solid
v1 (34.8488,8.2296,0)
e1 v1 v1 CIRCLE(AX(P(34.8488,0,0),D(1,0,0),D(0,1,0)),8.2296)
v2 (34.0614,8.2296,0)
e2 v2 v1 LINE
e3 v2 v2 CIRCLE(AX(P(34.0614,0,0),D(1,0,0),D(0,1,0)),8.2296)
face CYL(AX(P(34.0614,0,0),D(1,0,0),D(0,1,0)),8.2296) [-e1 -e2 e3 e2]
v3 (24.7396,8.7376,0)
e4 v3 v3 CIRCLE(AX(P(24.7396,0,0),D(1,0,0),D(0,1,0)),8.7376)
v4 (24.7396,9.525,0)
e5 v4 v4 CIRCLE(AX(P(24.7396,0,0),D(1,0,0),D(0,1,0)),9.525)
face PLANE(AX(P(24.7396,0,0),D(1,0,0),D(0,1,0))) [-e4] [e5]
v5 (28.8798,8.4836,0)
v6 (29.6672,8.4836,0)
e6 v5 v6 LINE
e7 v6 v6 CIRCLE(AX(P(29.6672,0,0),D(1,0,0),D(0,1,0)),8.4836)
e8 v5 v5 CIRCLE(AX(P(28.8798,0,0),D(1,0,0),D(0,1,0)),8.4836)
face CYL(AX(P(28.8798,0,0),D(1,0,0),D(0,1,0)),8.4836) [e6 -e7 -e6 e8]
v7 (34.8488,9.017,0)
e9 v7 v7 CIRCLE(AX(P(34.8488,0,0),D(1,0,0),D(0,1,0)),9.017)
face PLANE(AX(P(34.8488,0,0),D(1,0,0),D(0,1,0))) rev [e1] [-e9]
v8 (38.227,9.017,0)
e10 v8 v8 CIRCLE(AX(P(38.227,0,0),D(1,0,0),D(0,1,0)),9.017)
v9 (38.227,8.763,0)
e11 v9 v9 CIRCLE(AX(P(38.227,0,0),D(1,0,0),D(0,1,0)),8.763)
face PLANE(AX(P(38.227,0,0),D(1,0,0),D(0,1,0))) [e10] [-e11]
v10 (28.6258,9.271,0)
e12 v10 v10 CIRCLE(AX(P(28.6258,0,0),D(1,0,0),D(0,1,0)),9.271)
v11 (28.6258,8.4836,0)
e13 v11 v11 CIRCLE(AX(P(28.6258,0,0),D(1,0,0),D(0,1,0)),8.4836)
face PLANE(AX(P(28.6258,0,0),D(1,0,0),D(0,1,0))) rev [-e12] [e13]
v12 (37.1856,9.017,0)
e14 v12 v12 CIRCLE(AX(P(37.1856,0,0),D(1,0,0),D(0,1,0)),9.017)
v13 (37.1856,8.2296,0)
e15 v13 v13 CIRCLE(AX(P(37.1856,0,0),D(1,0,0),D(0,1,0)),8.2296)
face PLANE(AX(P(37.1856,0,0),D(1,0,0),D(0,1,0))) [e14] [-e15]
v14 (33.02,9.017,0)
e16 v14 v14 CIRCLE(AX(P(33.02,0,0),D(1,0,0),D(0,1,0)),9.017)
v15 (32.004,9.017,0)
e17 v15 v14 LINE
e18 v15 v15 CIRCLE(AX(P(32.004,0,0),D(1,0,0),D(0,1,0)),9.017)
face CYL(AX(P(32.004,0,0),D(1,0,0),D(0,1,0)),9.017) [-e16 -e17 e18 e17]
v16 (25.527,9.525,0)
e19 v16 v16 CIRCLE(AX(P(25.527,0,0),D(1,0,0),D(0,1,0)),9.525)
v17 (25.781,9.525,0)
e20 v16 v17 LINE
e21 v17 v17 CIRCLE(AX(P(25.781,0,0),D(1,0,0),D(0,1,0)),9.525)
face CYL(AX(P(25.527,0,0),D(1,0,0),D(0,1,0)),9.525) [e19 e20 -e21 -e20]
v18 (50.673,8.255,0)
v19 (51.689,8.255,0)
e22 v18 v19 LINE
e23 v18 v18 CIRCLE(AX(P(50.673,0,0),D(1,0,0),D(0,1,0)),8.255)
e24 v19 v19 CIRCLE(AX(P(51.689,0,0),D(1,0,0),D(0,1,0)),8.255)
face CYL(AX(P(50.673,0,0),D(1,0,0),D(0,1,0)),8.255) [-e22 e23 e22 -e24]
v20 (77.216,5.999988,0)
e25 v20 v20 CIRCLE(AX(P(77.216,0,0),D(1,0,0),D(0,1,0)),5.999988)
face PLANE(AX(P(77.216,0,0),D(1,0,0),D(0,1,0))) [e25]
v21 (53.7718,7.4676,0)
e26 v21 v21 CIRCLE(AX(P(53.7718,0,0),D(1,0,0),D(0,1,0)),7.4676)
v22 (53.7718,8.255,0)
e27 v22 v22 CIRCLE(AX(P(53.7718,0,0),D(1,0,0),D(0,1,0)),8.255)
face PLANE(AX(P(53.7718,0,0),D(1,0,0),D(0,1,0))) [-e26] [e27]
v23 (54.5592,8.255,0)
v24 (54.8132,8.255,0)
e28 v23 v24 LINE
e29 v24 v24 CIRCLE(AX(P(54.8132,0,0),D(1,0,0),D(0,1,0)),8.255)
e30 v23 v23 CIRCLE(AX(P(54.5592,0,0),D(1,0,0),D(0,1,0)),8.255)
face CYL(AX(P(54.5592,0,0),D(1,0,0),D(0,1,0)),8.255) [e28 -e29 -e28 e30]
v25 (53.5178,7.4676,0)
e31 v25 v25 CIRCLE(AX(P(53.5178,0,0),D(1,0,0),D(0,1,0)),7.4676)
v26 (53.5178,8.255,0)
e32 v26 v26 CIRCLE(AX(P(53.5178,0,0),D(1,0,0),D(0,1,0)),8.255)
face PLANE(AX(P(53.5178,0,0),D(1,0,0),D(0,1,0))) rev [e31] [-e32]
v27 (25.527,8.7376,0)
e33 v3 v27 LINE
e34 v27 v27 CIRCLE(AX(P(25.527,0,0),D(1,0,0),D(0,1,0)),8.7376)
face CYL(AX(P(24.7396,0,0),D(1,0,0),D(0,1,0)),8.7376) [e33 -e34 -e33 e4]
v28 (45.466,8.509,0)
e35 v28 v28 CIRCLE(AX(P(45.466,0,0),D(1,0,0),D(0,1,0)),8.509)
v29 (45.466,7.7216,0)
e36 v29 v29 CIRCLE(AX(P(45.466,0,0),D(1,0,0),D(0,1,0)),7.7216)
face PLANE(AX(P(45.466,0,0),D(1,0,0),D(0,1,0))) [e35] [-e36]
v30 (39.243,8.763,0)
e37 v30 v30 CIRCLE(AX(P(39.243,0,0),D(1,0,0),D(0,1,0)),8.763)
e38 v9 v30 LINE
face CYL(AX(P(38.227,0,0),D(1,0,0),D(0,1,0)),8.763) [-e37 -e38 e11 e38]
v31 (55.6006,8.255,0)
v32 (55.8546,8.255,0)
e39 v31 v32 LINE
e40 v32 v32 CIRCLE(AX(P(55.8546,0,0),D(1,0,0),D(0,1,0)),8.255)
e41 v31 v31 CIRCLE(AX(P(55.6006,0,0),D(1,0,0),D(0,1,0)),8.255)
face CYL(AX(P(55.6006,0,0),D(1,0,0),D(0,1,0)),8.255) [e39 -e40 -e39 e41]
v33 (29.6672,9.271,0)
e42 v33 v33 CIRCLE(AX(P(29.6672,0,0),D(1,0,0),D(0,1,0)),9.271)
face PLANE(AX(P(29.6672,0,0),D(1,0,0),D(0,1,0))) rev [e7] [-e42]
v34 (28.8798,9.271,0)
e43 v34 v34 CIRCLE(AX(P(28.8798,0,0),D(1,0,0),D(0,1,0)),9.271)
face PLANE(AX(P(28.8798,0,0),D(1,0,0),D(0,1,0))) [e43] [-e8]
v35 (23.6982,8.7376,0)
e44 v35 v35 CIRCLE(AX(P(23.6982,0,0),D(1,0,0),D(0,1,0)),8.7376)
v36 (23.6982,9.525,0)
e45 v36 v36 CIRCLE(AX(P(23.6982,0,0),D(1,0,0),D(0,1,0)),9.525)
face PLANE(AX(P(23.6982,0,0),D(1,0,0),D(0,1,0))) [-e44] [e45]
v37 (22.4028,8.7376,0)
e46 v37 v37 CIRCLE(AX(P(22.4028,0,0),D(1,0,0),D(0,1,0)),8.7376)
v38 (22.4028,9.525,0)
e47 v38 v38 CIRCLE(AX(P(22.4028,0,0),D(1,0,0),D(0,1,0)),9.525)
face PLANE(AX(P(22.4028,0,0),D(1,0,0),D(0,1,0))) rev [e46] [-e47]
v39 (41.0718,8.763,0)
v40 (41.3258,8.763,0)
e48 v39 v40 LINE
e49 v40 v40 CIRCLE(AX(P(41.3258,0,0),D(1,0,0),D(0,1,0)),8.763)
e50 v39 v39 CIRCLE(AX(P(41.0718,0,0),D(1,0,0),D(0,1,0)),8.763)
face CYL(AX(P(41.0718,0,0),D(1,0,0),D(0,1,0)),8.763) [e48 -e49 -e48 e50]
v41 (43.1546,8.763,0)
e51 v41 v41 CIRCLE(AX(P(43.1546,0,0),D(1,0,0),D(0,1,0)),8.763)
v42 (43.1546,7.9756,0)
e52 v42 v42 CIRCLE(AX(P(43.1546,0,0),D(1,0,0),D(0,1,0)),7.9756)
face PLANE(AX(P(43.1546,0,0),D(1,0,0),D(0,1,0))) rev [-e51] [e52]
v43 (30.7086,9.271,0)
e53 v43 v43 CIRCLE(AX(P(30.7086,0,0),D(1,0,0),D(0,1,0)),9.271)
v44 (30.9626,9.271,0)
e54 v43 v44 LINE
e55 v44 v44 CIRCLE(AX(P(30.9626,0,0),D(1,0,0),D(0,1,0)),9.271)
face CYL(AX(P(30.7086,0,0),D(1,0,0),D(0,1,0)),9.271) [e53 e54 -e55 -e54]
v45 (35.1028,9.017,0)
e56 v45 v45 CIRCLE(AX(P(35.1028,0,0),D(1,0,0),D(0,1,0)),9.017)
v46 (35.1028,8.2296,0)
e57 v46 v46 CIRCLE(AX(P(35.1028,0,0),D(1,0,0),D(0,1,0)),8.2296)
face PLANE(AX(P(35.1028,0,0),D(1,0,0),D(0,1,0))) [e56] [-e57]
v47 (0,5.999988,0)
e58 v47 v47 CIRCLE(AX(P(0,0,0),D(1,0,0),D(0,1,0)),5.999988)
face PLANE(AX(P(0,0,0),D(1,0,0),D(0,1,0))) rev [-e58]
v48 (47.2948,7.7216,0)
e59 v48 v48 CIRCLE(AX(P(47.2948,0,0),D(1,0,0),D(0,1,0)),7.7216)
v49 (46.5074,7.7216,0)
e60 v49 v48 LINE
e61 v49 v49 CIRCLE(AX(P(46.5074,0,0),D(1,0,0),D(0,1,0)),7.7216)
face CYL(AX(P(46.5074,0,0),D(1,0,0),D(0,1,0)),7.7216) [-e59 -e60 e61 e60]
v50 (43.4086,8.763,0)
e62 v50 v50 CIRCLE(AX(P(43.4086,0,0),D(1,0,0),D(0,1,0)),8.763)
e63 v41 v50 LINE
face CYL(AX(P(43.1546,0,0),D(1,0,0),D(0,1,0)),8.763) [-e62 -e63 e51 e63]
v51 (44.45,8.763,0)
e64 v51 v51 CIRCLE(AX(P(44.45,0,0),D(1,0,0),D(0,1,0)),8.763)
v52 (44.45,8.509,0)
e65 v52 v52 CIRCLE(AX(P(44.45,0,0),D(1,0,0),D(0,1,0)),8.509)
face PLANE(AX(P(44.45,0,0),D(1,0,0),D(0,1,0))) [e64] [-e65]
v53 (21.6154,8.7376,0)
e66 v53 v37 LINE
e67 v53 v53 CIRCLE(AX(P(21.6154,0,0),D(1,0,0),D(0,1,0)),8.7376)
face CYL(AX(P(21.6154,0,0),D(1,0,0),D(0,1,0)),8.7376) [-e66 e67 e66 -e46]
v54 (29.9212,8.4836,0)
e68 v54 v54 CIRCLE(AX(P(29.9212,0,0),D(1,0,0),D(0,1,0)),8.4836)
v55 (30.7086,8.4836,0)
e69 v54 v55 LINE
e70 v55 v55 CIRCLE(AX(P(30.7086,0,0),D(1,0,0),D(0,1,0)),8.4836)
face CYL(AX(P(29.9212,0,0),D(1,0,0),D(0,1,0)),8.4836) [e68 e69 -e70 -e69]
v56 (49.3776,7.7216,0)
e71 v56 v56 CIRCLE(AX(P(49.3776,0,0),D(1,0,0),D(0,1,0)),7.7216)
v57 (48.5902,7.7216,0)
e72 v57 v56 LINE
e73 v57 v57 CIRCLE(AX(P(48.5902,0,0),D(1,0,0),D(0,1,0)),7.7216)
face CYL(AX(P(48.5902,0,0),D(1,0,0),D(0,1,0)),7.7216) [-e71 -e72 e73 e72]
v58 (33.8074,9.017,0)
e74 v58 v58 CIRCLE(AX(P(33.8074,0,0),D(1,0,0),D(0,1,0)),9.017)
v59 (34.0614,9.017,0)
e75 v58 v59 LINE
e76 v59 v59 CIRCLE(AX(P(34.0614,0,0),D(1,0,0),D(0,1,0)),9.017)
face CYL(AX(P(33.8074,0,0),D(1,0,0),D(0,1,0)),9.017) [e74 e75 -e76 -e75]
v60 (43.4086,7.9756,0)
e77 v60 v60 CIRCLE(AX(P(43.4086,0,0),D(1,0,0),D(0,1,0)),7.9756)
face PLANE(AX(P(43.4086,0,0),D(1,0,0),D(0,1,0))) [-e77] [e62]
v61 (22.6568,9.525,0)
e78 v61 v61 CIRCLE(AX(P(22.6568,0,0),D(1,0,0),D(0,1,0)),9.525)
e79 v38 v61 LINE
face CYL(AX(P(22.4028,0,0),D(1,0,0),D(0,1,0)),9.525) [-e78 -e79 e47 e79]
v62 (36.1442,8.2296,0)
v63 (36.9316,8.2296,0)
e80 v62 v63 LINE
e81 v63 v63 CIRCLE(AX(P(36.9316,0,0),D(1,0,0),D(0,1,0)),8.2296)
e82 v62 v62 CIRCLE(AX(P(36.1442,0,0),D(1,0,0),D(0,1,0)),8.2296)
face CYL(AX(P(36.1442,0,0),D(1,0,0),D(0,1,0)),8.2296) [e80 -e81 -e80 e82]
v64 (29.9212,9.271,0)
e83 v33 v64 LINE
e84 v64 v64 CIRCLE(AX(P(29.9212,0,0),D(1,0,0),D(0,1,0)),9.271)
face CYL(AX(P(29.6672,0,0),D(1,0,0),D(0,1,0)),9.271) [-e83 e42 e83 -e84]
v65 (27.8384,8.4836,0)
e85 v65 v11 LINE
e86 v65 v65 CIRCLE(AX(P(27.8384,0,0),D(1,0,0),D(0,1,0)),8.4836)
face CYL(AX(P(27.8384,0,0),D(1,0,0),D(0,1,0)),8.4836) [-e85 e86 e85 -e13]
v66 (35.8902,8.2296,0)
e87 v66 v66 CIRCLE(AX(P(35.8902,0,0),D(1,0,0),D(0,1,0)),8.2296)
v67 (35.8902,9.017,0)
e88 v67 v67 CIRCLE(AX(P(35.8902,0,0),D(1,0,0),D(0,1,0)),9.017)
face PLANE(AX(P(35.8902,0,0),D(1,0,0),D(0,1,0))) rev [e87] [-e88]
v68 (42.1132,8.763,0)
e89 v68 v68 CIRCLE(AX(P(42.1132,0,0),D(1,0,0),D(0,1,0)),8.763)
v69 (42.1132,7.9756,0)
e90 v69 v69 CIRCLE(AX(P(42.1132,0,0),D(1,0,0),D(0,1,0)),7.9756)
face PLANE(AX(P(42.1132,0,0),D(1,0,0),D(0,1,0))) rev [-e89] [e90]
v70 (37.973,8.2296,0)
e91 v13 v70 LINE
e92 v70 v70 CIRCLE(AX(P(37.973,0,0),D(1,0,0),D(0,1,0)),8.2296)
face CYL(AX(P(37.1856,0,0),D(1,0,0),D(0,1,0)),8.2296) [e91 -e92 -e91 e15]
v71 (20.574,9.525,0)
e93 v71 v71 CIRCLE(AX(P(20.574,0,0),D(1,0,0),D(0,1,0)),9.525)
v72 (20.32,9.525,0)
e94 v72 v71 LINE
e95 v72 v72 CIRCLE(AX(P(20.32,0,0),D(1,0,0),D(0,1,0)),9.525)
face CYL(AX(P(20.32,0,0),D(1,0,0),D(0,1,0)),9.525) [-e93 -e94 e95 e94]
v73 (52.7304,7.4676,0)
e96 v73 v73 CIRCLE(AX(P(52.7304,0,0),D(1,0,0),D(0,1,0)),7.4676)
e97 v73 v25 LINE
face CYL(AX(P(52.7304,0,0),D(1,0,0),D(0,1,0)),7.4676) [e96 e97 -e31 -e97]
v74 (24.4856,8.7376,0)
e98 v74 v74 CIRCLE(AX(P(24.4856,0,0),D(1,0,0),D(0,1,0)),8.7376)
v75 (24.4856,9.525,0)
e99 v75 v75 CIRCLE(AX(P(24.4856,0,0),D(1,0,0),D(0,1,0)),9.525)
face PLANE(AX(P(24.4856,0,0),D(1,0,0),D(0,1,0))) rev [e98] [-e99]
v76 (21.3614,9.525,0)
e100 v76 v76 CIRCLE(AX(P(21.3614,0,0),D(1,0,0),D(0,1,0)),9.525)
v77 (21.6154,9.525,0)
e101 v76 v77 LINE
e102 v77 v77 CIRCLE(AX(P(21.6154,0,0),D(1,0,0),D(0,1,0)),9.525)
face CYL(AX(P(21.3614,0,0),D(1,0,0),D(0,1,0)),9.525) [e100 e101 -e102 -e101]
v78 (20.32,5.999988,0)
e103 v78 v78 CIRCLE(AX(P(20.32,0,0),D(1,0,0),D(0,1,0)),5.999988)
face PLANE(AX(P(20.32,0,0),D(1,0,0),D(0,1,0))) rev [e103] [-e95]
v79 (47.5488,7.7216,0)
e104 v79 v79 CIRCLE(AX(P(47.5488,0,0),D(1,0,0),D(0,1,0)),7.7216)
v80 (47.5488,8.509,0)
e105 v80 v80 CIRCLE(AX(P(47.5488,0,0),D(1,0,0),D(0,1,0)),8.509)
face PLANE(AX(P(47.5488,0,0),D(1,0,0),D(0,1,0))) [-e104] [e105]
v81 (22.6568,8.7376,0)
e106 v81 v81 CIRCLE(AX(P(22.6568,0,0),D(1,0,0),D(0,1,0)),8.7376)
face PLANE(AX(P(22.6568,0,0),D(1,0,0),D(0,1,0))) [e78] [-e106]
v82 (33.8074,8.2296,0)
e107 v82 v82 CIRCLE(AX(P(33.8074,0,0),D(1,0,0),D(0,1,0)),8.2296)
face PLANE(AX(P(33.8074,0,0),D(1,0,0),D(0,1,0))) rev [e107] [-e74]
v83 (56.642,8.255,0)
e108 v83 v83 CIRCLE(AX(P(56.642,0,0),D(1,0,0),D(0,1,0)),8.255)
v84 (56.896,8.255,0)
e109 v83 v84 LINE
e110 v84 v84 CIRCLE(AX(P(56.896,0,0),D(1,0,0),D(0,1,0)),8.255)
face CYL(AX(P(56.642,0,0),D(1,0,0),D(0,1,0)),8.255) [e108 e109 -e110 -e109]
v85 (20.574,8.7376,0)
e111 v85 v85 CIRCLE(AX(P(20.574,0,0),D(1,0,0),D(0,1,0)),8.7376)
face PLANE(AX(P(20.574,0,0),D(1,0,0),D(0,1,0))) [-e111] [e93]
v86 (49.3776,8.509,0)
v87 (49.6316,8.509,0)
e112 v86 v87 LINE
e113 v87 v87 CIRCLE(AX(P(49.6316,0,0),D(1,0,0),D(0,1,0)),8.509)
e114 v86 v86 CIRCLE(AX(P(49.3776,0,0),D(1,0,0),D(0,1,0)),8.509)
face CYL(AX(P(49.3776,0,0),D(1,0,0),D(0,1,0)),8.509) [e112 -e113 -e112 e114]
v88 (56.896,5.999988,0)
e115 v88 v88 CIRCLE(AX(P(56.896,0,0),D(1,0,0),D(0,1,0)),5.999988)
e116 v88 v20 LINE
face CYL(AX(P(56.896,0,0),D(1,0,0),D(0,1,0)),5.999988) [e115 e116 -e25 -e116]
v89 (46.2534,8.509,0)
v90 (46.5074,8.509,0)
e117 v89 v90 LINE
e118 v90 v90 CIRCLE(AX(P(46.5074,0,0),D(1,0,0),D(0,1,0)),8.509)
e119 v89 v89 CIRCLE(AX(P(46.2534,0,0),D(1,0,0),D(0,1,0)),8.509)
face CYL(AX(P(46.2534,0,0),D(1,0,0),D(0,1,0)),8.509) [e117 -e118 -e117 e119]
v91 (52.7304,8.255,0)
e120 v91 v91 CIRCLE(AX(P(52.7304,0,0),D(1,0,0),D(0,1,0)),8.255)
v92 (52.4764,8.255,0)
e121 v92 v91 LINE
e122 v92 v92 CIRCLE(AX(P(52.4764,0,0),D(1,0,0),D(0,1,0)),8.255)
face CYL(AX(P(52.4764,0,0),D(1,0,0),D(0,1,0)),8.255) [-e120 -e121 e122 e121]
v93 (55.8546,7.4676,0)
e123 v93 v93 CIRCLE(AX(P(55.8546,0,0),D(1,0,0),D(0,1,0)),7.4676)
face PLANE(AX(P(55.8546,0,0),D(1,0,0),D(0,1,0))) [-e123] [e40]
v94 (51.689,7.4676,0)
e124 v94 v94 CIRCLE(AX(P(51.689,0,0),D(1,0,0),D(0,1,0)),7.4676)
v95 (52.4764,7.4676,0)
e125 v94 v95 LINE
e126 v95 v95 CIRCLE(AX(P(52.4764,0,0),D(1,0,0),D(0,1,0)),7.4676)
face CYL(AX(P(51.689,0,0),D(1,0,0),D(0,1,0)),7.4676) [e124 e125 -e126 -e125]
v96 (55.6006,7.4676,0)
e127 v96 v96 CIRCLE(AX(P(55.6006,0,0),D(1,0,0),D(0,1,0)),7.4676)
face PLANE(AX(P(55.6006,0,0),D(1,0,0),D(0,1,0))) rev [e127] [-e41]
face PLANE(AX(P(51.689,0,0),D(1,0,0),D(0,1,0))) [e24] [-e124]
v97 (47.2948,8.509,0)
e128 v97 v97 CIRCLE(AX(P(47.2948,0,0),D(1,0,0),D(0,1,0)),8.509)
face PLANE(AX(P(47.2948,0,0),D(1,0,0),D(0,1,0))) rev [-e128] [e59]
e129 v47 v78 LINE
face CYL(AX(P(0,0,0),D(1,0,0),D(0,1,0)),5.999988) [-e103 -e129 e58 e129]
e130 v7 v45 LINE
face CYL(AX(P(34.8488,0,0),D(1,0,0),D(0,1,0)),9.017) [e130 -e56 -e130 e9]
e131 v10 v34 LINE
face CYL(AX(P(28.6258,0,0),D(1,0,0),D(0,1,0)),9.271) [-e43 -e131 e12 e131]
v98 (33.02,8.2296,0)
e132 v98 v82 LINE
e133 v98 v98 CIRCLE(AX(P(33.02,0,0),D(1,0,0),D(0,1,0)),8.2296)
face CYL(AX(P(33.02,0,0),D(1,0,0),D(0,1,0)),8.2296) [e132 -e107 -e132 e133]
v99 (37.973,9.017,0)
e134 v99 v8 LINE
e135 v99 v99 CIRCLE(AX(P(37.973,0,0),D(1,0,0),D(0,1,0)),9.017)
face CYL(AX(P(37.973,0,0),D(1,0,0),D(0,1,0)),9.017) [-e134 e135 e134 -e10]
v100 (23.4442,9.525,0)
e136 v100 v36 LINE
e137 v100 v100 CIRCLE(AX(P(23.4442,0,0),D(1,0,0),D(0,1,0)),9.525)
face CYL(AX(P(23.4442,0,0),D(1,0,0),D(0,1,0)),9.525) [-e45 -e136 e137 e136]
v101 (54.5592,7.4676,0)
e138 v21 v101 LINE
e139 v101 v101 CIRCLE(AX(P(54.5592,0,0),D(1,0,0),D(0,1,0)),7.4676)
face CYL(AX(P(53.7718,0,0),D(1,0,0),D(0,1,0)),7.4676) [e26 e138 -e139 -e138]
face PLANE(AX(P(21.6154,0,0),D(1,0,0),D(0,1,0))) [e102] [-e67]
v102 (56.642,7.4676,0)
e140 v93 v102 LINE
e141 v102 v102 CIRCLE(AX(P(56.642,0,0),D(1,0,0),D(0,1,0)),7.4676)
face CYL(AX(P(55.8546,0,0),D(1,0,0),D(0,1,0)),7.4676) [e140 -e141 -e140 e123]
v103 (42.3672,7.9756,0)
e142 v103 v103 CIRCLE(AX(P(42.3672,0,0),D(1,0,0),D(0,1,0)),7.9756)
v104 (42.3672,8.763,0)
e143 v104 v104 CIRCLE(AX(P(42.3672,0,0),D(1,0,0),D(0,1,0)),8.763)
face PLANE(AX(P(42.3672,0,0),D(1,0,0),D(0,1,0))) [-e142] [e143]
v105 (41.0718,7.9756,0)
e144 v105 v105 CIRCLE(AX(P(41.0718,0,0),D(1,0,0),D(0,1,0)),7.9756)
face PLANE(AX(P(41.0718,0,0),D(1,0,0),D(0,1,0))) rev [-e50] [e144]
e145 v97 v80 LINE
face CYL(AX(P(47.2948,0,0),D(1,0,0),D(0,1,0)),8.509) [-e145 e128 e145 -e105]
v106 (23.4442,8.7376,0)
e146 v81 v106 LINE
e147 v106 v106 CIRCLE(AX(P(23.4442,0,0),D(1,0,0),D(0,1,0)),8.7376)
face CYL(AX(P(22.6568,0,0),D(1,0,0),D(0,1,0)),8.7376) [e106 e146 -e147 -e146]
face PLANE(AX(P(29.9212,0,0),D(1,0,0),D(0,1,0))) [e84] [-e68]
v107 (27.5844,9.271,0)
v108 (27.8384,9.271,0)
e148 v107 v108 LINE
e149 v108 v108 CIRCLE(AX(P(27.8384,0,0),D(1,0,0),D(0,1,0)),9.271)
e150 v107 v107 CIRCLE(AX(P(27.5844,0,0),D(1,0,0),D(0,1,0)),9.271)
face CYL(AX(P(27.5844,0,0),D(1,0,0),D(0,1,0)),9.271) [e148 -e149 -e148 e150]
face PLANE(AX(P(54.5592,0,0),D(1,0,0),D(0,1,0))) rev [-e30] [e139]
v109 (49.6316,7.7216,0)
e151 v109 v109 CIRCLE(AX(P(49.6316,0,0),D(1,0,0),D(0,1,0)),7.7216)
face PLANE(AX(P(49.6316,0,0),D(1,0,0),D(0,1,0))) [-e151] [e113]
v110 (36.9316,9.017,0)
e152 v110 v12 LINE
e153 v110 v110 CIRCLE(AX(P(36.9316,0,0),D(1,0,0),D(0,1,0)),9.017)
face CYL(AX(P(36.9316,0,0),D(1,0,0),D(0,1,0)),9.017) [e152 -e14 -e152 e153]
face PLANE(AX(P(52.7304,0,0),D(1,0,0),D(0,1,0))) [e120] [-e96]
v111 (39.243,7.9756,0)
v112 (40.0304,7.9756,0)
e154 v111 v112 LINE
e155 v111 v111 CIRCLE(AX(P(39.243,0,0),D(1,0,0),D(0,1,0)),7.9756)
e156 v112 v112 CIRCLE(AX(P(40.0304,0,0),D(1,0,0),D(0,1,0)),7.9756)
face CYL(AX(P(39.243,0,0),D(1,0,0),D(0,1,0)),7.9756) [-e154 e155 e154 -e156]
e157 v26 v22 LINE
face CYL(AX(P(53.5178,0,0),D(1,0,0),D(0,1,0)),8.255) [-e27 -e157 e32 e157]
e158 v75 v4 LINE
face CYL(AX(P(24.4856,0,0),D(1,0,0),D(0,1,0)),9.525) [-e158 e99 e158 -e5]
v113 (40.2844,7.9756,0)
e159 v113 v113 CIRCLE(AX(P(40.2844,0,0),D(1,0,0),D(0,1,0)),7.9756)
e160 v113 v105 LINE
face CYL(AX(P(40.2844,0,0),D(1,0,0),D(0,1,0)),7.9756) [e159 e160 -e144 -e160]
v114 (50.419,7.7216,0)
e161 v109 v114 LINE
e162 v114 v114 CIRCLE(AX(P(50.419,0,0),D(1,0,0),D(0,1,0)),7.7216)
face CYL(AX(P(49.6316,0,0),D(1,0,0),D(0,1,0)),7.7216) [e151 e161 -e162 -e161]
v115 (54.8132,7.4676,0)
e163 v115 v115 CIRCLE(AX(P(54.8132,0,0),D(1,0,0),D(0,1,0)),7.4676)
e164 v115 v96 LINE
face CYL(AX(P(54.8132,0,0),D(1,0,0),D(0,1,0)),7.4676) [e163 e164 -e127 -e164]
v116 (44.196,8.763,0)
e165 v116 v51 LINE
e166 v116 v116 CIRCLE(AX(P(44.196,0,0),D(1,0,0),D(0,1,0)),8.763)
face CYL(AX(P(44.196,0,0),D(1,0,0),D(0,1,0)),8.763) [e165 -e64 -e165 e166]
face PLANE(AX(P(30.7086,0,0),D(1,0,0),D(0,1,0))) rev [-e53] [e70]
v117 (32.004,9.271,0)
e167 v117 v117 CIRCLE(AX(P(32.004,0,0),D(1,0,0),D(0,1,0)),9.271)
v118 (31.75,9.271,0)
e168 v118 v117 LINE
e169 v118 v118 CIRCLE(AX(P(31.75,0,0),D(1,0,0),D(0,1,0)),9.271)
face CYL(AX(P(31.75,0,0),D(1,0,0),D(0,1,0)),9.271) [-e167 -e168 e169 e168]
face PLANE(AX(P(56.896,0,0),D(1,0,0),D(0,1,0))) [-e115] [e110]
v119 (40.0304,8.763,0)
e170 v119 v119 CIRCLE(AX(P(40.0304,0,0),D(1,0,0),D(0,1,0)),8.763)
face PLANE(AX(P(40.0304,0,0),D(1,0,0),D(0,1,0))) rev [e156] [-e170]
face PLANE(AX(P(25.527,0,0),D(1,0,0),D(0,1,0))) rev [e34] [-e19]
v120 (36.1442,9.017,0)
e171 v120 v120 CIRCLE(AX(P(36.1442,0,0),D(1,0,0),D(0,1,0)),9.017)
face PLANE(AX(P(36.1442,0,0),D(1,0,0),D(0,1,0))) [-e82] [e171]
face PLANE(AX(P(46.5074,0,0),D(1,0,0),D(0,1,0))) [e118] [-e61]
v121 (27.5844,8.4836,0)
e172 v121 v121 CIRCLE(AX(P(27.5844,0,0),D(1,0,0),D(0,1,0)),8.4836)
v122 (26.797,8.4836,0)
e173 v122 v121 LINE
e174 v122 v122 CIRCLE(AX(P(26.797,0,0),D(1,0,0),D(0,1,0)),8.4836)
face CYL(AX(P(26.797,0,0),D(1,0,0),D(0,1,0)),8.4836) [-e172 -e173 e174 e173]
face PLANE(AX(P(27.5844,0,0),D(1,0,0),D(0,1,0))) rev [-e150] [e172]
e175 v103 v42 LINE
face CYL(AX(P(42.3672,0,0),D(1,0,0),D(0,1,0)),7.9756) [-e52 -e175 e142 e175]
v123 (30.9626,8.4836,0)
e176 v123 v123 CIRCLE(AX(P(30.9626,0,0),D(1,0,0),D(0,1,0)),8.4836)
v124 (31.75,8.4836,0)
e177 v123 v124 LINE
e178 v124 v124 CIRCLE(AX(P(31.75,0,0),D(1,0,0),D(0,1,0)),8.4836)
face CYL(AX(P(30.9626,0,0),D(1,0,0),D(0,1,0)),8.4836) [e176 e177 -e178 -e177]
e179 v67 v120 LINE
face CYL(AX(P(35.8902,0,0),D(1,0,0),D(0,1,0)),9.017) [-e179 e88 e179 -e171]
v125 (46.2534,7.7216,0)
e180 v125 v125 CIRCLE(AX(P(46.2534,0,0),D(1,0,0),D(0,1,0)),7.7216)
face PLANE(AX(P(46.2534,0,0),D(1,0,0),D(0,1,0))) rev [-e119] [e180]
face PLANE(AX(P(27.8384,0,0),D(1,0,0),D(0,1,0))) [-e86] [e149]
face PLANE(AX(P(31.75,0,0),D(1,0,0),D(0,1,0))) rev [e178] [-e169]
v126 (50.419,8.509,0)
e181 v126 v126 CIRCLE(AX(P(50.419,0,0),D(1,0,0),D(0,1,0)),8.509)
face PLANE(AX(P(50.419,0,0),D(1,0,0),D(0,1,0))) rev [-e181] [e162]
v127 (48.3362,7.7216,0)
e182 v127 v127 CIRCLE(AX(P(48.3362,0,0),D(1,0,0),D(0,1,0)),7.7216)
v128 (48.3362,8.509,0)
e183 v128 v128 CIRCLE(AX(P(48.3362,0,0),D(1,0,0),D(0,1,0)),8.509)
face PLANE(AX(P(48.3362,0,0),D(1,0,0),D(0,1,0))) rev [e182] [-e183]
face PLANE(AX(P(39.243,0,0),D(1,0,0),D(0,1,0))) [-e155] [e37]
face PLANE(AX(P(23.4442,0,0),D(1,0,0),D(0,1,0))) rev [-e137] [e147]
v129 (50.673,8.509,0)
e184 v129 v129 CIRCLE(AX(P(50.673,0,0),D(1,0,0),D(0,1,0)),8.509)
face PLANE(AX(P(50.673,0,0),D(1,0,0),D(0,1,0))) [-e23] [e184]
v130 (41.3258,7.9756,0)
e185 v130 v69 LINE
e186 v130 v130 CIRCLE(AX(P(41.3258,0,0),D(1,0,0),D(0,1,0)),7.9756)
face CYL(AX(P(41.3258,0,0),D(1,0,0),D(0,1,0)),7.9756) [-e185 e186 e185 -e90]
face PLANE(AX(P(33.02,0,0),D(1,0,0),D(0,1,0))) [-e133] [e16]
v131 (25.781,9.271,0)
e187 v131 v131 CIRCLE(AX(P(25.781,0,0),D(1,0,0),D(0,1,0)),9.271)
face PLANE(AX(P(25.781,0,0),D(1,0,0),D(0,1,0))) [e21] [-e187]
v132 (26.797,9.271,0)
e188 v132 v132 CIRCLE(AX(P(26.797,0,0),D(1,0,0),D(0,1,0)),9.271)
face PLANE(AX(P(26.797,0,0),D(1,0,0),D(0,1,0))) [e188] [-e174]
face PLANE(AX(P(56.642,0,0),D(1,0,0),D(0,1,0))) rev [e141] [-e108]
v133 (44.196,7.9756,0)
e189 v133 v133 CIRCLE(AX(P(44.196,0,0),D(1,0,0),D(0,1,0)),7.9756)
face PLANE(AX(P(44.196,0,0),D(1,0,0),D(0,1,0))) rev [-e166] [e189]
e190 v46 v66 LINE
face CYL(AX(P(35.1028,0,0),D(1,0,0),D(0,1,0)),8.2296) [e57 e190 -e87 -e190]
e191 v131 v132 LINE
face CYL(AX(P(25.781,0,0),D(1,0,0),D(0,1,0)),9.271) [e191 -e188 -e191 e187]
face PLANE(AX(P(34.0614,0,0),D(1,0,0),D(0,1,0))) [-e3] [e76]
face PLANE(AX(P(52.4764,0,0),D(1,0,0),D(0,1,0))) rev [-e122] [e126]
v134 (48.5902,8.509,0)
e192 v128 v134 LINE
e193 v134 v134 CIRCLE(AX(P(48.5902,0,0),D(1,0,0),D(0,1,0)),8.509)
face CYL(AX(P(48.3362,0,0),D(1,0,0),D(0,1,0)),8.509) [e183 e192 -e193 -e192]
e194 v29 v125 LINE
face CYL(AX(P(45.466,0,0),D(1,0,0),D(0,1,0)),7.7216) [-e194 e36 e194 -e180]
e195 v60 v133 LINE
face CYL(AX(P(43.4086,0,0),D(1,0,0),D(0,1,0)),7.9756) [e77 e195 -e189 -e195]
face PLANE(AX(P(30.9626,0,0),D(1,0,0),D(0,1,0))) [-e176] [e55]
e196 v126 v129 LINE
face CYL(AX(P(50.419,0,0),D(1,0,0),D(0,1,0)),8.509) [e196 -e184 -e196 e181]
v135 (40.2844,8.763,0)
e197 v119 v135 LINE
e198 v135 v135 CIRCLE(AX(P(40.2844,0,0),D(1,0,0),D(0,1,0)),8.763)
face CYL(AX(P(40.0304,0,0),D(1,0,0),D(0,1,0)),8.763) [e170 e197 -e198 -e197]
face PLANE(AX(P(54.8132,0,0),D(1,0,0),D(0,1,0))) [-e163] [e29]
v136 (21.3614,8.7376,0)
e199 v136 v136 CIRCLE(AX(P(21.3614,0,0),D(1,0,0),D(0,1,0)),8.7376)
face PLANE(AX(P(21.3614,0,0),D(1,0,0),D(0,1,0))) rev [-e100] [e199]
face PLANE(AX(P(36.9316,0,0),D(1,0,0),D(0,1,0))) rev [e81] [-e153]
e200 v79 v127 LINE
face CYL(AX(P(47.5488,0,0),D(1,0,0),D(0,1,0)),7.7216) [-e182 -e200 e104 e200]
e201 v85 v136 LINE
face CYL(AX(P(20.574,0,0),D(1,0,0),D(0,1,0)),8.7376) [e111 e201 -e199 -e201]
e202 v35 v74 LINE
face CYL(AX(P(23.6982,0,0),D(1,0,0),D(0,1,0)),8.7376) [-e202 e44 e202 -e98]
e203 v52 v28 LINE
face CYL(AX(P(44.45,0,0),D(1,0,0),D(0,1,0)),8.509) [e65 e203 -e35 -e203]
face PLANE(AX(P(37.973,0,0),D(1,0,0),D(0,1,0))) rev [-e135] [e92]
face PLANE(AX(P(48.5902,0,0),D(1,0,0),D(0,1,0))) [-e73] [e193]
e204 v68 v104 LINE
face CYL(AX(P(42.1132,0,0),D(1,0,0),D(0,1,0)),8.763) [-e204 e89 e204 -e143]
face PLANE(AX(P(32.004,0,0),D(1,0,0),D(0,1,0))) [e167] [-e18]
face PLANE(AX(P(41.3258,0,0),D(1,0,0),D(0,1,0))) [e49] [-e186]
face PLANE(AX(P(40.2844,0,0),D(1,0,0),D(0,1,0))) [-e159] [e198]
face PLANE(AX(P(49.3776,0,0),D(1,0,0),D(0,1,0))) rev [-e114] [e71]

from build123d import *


with BuildPart() as part:
    # Sketch1 → Revolve1 (revolve)
    with BuildSketch(Plane.XY):
        Polygon((20.574, 9.525), (20.574, 8.7376), (21.3614, 8.7376), (21.3614, 9.525), (21.6154, 9.525), (21.6154, 8.7376), (22.4028, 8.7376), (22.4028, 9.525), (22.6568, 9.525), (22.6568, 8.7376), (23.4442, 8.7376), (23.4442, 9.525), (23.6982, 9.525), (23.6982, 8.7376), (24.4856, 8.7376), (24.4856, 9.525), (24.7396, 9.525), (24.7396, 8.7376), (25.527, 8.7376), (25.527, 9.525), (25.781, 9.525), (25.781, 9.271), (26.797, 9.271), (26.797, 8.4836), (27.5844, 8.4836), (27.5844, 9.271), (27.8384, 9.271), (27.8384, 8.4836), (28.6258, 8.4836), (28.6258, 9.271), (28.8798, 9.271), (28.8798, 8.4836), (29.6672, 8.4836), (29.6672, 9.271), (29.9212, 9.271), (29.9212, 8.4836), (30.7086, 8.4836), (30.7086, 9.271), (30.9626, 9.271), (30.9626, 8.4836), (31.75, 8.4836), (31.75, 9.271), (32.004, 9.271), (32.004, 9.017), (33.02, 9.017), (33.02, 8.2296), (33.8074, 8.2296), (33.8074, 9.017), (34.0614, 9.017), (34.0614, 8.2296), (34.8488, 8.2296), (34.8488, 9.017), (35.1028, 9.017), (35.1028, 8.2296), (35.8902, 8.2296), (35.8902, 9.017), (36.1442, 9.017), (36.1442, 8.2296), (36.9316, 8.2296), (36.9316, 9.017), (37.1856, 9.017), (37.1856, 8.2296), (37.973, 8.2296), (37.973, 9.017), (38.227, 9.017), (38.227, 8.763), (39.243, 8.763), (39.243, 7.9756), (40.0304, 7.9756), (40.0304, 8.763), (40.2844, 8.763), (40.2844, 7.9756), (41.0718, 7.9756), (41.0718, 8.763), (41.3258, 8.763), (41.3258, 7.9756), (42.1132, 7.9756), (42.1132, 8.763), (42.3672, 8.763), (42.3672, 7.9756), (43.1546, 7.9756), (43.1546, 8.763), (43.4086, 8.763), (43.4086, 7.9756), (44.196, 7.9756), (44.196, 8.763), (44.45, 8.763), (44.45, 8.509), (45.466, 8.509), (45.466, 7.7216), (46.2534, 7.7216), (46.2534, 8.509), (46.5074, 8.509), (46.5074, 7.7216), (47.2948, 7.7216), (47.2948, 8.509), (47.5488, 8.509), (47.5488, 7.7216), (48.3362, 7.7216), (48.3362, 8.509), (48.5902, 8.509), (48.5902, 7.7216), (49.3776, 7.7216), (49.3776, 8.509), (49.6316, 8.509), (49.6316, 7.7216), (50.419, 7.7216), (50.419, 8.509), (50.673, 8.509), (50.673, 8.255), (51.689, 8.255), (51.689, 7.4676), (52.4764, 7.4676), (52.4764, 8.255), (52.7304, 8.255), (52.7304, 7.4676), (53.5178, 7.4676), (53.5178, 8.255), (53.7718, 8.255), (53.7718, 7.4676), (54.5592, 7.4676), (54.5592, 8.255), (54.8132, 8.255), (54.8132, 7.4676), (55.6006, 7.4676), (55.6006, 8.255), (55.8546, 8.255), (55.8546, 7.4676), (56.642, 7.4676), (56.642, 8.255), (56.896, 8.255), (56.896, 5.999988), (77.216, 5.999988), (77.216, 0), (61.976, 0), (0, 0), (0, 5.999988), (20.32, 5.999988), (20.32, 9.525), align=None)
    revolve(axis=Axis((0, 0, 0), (1, 0, 0)))


solid = part.part
